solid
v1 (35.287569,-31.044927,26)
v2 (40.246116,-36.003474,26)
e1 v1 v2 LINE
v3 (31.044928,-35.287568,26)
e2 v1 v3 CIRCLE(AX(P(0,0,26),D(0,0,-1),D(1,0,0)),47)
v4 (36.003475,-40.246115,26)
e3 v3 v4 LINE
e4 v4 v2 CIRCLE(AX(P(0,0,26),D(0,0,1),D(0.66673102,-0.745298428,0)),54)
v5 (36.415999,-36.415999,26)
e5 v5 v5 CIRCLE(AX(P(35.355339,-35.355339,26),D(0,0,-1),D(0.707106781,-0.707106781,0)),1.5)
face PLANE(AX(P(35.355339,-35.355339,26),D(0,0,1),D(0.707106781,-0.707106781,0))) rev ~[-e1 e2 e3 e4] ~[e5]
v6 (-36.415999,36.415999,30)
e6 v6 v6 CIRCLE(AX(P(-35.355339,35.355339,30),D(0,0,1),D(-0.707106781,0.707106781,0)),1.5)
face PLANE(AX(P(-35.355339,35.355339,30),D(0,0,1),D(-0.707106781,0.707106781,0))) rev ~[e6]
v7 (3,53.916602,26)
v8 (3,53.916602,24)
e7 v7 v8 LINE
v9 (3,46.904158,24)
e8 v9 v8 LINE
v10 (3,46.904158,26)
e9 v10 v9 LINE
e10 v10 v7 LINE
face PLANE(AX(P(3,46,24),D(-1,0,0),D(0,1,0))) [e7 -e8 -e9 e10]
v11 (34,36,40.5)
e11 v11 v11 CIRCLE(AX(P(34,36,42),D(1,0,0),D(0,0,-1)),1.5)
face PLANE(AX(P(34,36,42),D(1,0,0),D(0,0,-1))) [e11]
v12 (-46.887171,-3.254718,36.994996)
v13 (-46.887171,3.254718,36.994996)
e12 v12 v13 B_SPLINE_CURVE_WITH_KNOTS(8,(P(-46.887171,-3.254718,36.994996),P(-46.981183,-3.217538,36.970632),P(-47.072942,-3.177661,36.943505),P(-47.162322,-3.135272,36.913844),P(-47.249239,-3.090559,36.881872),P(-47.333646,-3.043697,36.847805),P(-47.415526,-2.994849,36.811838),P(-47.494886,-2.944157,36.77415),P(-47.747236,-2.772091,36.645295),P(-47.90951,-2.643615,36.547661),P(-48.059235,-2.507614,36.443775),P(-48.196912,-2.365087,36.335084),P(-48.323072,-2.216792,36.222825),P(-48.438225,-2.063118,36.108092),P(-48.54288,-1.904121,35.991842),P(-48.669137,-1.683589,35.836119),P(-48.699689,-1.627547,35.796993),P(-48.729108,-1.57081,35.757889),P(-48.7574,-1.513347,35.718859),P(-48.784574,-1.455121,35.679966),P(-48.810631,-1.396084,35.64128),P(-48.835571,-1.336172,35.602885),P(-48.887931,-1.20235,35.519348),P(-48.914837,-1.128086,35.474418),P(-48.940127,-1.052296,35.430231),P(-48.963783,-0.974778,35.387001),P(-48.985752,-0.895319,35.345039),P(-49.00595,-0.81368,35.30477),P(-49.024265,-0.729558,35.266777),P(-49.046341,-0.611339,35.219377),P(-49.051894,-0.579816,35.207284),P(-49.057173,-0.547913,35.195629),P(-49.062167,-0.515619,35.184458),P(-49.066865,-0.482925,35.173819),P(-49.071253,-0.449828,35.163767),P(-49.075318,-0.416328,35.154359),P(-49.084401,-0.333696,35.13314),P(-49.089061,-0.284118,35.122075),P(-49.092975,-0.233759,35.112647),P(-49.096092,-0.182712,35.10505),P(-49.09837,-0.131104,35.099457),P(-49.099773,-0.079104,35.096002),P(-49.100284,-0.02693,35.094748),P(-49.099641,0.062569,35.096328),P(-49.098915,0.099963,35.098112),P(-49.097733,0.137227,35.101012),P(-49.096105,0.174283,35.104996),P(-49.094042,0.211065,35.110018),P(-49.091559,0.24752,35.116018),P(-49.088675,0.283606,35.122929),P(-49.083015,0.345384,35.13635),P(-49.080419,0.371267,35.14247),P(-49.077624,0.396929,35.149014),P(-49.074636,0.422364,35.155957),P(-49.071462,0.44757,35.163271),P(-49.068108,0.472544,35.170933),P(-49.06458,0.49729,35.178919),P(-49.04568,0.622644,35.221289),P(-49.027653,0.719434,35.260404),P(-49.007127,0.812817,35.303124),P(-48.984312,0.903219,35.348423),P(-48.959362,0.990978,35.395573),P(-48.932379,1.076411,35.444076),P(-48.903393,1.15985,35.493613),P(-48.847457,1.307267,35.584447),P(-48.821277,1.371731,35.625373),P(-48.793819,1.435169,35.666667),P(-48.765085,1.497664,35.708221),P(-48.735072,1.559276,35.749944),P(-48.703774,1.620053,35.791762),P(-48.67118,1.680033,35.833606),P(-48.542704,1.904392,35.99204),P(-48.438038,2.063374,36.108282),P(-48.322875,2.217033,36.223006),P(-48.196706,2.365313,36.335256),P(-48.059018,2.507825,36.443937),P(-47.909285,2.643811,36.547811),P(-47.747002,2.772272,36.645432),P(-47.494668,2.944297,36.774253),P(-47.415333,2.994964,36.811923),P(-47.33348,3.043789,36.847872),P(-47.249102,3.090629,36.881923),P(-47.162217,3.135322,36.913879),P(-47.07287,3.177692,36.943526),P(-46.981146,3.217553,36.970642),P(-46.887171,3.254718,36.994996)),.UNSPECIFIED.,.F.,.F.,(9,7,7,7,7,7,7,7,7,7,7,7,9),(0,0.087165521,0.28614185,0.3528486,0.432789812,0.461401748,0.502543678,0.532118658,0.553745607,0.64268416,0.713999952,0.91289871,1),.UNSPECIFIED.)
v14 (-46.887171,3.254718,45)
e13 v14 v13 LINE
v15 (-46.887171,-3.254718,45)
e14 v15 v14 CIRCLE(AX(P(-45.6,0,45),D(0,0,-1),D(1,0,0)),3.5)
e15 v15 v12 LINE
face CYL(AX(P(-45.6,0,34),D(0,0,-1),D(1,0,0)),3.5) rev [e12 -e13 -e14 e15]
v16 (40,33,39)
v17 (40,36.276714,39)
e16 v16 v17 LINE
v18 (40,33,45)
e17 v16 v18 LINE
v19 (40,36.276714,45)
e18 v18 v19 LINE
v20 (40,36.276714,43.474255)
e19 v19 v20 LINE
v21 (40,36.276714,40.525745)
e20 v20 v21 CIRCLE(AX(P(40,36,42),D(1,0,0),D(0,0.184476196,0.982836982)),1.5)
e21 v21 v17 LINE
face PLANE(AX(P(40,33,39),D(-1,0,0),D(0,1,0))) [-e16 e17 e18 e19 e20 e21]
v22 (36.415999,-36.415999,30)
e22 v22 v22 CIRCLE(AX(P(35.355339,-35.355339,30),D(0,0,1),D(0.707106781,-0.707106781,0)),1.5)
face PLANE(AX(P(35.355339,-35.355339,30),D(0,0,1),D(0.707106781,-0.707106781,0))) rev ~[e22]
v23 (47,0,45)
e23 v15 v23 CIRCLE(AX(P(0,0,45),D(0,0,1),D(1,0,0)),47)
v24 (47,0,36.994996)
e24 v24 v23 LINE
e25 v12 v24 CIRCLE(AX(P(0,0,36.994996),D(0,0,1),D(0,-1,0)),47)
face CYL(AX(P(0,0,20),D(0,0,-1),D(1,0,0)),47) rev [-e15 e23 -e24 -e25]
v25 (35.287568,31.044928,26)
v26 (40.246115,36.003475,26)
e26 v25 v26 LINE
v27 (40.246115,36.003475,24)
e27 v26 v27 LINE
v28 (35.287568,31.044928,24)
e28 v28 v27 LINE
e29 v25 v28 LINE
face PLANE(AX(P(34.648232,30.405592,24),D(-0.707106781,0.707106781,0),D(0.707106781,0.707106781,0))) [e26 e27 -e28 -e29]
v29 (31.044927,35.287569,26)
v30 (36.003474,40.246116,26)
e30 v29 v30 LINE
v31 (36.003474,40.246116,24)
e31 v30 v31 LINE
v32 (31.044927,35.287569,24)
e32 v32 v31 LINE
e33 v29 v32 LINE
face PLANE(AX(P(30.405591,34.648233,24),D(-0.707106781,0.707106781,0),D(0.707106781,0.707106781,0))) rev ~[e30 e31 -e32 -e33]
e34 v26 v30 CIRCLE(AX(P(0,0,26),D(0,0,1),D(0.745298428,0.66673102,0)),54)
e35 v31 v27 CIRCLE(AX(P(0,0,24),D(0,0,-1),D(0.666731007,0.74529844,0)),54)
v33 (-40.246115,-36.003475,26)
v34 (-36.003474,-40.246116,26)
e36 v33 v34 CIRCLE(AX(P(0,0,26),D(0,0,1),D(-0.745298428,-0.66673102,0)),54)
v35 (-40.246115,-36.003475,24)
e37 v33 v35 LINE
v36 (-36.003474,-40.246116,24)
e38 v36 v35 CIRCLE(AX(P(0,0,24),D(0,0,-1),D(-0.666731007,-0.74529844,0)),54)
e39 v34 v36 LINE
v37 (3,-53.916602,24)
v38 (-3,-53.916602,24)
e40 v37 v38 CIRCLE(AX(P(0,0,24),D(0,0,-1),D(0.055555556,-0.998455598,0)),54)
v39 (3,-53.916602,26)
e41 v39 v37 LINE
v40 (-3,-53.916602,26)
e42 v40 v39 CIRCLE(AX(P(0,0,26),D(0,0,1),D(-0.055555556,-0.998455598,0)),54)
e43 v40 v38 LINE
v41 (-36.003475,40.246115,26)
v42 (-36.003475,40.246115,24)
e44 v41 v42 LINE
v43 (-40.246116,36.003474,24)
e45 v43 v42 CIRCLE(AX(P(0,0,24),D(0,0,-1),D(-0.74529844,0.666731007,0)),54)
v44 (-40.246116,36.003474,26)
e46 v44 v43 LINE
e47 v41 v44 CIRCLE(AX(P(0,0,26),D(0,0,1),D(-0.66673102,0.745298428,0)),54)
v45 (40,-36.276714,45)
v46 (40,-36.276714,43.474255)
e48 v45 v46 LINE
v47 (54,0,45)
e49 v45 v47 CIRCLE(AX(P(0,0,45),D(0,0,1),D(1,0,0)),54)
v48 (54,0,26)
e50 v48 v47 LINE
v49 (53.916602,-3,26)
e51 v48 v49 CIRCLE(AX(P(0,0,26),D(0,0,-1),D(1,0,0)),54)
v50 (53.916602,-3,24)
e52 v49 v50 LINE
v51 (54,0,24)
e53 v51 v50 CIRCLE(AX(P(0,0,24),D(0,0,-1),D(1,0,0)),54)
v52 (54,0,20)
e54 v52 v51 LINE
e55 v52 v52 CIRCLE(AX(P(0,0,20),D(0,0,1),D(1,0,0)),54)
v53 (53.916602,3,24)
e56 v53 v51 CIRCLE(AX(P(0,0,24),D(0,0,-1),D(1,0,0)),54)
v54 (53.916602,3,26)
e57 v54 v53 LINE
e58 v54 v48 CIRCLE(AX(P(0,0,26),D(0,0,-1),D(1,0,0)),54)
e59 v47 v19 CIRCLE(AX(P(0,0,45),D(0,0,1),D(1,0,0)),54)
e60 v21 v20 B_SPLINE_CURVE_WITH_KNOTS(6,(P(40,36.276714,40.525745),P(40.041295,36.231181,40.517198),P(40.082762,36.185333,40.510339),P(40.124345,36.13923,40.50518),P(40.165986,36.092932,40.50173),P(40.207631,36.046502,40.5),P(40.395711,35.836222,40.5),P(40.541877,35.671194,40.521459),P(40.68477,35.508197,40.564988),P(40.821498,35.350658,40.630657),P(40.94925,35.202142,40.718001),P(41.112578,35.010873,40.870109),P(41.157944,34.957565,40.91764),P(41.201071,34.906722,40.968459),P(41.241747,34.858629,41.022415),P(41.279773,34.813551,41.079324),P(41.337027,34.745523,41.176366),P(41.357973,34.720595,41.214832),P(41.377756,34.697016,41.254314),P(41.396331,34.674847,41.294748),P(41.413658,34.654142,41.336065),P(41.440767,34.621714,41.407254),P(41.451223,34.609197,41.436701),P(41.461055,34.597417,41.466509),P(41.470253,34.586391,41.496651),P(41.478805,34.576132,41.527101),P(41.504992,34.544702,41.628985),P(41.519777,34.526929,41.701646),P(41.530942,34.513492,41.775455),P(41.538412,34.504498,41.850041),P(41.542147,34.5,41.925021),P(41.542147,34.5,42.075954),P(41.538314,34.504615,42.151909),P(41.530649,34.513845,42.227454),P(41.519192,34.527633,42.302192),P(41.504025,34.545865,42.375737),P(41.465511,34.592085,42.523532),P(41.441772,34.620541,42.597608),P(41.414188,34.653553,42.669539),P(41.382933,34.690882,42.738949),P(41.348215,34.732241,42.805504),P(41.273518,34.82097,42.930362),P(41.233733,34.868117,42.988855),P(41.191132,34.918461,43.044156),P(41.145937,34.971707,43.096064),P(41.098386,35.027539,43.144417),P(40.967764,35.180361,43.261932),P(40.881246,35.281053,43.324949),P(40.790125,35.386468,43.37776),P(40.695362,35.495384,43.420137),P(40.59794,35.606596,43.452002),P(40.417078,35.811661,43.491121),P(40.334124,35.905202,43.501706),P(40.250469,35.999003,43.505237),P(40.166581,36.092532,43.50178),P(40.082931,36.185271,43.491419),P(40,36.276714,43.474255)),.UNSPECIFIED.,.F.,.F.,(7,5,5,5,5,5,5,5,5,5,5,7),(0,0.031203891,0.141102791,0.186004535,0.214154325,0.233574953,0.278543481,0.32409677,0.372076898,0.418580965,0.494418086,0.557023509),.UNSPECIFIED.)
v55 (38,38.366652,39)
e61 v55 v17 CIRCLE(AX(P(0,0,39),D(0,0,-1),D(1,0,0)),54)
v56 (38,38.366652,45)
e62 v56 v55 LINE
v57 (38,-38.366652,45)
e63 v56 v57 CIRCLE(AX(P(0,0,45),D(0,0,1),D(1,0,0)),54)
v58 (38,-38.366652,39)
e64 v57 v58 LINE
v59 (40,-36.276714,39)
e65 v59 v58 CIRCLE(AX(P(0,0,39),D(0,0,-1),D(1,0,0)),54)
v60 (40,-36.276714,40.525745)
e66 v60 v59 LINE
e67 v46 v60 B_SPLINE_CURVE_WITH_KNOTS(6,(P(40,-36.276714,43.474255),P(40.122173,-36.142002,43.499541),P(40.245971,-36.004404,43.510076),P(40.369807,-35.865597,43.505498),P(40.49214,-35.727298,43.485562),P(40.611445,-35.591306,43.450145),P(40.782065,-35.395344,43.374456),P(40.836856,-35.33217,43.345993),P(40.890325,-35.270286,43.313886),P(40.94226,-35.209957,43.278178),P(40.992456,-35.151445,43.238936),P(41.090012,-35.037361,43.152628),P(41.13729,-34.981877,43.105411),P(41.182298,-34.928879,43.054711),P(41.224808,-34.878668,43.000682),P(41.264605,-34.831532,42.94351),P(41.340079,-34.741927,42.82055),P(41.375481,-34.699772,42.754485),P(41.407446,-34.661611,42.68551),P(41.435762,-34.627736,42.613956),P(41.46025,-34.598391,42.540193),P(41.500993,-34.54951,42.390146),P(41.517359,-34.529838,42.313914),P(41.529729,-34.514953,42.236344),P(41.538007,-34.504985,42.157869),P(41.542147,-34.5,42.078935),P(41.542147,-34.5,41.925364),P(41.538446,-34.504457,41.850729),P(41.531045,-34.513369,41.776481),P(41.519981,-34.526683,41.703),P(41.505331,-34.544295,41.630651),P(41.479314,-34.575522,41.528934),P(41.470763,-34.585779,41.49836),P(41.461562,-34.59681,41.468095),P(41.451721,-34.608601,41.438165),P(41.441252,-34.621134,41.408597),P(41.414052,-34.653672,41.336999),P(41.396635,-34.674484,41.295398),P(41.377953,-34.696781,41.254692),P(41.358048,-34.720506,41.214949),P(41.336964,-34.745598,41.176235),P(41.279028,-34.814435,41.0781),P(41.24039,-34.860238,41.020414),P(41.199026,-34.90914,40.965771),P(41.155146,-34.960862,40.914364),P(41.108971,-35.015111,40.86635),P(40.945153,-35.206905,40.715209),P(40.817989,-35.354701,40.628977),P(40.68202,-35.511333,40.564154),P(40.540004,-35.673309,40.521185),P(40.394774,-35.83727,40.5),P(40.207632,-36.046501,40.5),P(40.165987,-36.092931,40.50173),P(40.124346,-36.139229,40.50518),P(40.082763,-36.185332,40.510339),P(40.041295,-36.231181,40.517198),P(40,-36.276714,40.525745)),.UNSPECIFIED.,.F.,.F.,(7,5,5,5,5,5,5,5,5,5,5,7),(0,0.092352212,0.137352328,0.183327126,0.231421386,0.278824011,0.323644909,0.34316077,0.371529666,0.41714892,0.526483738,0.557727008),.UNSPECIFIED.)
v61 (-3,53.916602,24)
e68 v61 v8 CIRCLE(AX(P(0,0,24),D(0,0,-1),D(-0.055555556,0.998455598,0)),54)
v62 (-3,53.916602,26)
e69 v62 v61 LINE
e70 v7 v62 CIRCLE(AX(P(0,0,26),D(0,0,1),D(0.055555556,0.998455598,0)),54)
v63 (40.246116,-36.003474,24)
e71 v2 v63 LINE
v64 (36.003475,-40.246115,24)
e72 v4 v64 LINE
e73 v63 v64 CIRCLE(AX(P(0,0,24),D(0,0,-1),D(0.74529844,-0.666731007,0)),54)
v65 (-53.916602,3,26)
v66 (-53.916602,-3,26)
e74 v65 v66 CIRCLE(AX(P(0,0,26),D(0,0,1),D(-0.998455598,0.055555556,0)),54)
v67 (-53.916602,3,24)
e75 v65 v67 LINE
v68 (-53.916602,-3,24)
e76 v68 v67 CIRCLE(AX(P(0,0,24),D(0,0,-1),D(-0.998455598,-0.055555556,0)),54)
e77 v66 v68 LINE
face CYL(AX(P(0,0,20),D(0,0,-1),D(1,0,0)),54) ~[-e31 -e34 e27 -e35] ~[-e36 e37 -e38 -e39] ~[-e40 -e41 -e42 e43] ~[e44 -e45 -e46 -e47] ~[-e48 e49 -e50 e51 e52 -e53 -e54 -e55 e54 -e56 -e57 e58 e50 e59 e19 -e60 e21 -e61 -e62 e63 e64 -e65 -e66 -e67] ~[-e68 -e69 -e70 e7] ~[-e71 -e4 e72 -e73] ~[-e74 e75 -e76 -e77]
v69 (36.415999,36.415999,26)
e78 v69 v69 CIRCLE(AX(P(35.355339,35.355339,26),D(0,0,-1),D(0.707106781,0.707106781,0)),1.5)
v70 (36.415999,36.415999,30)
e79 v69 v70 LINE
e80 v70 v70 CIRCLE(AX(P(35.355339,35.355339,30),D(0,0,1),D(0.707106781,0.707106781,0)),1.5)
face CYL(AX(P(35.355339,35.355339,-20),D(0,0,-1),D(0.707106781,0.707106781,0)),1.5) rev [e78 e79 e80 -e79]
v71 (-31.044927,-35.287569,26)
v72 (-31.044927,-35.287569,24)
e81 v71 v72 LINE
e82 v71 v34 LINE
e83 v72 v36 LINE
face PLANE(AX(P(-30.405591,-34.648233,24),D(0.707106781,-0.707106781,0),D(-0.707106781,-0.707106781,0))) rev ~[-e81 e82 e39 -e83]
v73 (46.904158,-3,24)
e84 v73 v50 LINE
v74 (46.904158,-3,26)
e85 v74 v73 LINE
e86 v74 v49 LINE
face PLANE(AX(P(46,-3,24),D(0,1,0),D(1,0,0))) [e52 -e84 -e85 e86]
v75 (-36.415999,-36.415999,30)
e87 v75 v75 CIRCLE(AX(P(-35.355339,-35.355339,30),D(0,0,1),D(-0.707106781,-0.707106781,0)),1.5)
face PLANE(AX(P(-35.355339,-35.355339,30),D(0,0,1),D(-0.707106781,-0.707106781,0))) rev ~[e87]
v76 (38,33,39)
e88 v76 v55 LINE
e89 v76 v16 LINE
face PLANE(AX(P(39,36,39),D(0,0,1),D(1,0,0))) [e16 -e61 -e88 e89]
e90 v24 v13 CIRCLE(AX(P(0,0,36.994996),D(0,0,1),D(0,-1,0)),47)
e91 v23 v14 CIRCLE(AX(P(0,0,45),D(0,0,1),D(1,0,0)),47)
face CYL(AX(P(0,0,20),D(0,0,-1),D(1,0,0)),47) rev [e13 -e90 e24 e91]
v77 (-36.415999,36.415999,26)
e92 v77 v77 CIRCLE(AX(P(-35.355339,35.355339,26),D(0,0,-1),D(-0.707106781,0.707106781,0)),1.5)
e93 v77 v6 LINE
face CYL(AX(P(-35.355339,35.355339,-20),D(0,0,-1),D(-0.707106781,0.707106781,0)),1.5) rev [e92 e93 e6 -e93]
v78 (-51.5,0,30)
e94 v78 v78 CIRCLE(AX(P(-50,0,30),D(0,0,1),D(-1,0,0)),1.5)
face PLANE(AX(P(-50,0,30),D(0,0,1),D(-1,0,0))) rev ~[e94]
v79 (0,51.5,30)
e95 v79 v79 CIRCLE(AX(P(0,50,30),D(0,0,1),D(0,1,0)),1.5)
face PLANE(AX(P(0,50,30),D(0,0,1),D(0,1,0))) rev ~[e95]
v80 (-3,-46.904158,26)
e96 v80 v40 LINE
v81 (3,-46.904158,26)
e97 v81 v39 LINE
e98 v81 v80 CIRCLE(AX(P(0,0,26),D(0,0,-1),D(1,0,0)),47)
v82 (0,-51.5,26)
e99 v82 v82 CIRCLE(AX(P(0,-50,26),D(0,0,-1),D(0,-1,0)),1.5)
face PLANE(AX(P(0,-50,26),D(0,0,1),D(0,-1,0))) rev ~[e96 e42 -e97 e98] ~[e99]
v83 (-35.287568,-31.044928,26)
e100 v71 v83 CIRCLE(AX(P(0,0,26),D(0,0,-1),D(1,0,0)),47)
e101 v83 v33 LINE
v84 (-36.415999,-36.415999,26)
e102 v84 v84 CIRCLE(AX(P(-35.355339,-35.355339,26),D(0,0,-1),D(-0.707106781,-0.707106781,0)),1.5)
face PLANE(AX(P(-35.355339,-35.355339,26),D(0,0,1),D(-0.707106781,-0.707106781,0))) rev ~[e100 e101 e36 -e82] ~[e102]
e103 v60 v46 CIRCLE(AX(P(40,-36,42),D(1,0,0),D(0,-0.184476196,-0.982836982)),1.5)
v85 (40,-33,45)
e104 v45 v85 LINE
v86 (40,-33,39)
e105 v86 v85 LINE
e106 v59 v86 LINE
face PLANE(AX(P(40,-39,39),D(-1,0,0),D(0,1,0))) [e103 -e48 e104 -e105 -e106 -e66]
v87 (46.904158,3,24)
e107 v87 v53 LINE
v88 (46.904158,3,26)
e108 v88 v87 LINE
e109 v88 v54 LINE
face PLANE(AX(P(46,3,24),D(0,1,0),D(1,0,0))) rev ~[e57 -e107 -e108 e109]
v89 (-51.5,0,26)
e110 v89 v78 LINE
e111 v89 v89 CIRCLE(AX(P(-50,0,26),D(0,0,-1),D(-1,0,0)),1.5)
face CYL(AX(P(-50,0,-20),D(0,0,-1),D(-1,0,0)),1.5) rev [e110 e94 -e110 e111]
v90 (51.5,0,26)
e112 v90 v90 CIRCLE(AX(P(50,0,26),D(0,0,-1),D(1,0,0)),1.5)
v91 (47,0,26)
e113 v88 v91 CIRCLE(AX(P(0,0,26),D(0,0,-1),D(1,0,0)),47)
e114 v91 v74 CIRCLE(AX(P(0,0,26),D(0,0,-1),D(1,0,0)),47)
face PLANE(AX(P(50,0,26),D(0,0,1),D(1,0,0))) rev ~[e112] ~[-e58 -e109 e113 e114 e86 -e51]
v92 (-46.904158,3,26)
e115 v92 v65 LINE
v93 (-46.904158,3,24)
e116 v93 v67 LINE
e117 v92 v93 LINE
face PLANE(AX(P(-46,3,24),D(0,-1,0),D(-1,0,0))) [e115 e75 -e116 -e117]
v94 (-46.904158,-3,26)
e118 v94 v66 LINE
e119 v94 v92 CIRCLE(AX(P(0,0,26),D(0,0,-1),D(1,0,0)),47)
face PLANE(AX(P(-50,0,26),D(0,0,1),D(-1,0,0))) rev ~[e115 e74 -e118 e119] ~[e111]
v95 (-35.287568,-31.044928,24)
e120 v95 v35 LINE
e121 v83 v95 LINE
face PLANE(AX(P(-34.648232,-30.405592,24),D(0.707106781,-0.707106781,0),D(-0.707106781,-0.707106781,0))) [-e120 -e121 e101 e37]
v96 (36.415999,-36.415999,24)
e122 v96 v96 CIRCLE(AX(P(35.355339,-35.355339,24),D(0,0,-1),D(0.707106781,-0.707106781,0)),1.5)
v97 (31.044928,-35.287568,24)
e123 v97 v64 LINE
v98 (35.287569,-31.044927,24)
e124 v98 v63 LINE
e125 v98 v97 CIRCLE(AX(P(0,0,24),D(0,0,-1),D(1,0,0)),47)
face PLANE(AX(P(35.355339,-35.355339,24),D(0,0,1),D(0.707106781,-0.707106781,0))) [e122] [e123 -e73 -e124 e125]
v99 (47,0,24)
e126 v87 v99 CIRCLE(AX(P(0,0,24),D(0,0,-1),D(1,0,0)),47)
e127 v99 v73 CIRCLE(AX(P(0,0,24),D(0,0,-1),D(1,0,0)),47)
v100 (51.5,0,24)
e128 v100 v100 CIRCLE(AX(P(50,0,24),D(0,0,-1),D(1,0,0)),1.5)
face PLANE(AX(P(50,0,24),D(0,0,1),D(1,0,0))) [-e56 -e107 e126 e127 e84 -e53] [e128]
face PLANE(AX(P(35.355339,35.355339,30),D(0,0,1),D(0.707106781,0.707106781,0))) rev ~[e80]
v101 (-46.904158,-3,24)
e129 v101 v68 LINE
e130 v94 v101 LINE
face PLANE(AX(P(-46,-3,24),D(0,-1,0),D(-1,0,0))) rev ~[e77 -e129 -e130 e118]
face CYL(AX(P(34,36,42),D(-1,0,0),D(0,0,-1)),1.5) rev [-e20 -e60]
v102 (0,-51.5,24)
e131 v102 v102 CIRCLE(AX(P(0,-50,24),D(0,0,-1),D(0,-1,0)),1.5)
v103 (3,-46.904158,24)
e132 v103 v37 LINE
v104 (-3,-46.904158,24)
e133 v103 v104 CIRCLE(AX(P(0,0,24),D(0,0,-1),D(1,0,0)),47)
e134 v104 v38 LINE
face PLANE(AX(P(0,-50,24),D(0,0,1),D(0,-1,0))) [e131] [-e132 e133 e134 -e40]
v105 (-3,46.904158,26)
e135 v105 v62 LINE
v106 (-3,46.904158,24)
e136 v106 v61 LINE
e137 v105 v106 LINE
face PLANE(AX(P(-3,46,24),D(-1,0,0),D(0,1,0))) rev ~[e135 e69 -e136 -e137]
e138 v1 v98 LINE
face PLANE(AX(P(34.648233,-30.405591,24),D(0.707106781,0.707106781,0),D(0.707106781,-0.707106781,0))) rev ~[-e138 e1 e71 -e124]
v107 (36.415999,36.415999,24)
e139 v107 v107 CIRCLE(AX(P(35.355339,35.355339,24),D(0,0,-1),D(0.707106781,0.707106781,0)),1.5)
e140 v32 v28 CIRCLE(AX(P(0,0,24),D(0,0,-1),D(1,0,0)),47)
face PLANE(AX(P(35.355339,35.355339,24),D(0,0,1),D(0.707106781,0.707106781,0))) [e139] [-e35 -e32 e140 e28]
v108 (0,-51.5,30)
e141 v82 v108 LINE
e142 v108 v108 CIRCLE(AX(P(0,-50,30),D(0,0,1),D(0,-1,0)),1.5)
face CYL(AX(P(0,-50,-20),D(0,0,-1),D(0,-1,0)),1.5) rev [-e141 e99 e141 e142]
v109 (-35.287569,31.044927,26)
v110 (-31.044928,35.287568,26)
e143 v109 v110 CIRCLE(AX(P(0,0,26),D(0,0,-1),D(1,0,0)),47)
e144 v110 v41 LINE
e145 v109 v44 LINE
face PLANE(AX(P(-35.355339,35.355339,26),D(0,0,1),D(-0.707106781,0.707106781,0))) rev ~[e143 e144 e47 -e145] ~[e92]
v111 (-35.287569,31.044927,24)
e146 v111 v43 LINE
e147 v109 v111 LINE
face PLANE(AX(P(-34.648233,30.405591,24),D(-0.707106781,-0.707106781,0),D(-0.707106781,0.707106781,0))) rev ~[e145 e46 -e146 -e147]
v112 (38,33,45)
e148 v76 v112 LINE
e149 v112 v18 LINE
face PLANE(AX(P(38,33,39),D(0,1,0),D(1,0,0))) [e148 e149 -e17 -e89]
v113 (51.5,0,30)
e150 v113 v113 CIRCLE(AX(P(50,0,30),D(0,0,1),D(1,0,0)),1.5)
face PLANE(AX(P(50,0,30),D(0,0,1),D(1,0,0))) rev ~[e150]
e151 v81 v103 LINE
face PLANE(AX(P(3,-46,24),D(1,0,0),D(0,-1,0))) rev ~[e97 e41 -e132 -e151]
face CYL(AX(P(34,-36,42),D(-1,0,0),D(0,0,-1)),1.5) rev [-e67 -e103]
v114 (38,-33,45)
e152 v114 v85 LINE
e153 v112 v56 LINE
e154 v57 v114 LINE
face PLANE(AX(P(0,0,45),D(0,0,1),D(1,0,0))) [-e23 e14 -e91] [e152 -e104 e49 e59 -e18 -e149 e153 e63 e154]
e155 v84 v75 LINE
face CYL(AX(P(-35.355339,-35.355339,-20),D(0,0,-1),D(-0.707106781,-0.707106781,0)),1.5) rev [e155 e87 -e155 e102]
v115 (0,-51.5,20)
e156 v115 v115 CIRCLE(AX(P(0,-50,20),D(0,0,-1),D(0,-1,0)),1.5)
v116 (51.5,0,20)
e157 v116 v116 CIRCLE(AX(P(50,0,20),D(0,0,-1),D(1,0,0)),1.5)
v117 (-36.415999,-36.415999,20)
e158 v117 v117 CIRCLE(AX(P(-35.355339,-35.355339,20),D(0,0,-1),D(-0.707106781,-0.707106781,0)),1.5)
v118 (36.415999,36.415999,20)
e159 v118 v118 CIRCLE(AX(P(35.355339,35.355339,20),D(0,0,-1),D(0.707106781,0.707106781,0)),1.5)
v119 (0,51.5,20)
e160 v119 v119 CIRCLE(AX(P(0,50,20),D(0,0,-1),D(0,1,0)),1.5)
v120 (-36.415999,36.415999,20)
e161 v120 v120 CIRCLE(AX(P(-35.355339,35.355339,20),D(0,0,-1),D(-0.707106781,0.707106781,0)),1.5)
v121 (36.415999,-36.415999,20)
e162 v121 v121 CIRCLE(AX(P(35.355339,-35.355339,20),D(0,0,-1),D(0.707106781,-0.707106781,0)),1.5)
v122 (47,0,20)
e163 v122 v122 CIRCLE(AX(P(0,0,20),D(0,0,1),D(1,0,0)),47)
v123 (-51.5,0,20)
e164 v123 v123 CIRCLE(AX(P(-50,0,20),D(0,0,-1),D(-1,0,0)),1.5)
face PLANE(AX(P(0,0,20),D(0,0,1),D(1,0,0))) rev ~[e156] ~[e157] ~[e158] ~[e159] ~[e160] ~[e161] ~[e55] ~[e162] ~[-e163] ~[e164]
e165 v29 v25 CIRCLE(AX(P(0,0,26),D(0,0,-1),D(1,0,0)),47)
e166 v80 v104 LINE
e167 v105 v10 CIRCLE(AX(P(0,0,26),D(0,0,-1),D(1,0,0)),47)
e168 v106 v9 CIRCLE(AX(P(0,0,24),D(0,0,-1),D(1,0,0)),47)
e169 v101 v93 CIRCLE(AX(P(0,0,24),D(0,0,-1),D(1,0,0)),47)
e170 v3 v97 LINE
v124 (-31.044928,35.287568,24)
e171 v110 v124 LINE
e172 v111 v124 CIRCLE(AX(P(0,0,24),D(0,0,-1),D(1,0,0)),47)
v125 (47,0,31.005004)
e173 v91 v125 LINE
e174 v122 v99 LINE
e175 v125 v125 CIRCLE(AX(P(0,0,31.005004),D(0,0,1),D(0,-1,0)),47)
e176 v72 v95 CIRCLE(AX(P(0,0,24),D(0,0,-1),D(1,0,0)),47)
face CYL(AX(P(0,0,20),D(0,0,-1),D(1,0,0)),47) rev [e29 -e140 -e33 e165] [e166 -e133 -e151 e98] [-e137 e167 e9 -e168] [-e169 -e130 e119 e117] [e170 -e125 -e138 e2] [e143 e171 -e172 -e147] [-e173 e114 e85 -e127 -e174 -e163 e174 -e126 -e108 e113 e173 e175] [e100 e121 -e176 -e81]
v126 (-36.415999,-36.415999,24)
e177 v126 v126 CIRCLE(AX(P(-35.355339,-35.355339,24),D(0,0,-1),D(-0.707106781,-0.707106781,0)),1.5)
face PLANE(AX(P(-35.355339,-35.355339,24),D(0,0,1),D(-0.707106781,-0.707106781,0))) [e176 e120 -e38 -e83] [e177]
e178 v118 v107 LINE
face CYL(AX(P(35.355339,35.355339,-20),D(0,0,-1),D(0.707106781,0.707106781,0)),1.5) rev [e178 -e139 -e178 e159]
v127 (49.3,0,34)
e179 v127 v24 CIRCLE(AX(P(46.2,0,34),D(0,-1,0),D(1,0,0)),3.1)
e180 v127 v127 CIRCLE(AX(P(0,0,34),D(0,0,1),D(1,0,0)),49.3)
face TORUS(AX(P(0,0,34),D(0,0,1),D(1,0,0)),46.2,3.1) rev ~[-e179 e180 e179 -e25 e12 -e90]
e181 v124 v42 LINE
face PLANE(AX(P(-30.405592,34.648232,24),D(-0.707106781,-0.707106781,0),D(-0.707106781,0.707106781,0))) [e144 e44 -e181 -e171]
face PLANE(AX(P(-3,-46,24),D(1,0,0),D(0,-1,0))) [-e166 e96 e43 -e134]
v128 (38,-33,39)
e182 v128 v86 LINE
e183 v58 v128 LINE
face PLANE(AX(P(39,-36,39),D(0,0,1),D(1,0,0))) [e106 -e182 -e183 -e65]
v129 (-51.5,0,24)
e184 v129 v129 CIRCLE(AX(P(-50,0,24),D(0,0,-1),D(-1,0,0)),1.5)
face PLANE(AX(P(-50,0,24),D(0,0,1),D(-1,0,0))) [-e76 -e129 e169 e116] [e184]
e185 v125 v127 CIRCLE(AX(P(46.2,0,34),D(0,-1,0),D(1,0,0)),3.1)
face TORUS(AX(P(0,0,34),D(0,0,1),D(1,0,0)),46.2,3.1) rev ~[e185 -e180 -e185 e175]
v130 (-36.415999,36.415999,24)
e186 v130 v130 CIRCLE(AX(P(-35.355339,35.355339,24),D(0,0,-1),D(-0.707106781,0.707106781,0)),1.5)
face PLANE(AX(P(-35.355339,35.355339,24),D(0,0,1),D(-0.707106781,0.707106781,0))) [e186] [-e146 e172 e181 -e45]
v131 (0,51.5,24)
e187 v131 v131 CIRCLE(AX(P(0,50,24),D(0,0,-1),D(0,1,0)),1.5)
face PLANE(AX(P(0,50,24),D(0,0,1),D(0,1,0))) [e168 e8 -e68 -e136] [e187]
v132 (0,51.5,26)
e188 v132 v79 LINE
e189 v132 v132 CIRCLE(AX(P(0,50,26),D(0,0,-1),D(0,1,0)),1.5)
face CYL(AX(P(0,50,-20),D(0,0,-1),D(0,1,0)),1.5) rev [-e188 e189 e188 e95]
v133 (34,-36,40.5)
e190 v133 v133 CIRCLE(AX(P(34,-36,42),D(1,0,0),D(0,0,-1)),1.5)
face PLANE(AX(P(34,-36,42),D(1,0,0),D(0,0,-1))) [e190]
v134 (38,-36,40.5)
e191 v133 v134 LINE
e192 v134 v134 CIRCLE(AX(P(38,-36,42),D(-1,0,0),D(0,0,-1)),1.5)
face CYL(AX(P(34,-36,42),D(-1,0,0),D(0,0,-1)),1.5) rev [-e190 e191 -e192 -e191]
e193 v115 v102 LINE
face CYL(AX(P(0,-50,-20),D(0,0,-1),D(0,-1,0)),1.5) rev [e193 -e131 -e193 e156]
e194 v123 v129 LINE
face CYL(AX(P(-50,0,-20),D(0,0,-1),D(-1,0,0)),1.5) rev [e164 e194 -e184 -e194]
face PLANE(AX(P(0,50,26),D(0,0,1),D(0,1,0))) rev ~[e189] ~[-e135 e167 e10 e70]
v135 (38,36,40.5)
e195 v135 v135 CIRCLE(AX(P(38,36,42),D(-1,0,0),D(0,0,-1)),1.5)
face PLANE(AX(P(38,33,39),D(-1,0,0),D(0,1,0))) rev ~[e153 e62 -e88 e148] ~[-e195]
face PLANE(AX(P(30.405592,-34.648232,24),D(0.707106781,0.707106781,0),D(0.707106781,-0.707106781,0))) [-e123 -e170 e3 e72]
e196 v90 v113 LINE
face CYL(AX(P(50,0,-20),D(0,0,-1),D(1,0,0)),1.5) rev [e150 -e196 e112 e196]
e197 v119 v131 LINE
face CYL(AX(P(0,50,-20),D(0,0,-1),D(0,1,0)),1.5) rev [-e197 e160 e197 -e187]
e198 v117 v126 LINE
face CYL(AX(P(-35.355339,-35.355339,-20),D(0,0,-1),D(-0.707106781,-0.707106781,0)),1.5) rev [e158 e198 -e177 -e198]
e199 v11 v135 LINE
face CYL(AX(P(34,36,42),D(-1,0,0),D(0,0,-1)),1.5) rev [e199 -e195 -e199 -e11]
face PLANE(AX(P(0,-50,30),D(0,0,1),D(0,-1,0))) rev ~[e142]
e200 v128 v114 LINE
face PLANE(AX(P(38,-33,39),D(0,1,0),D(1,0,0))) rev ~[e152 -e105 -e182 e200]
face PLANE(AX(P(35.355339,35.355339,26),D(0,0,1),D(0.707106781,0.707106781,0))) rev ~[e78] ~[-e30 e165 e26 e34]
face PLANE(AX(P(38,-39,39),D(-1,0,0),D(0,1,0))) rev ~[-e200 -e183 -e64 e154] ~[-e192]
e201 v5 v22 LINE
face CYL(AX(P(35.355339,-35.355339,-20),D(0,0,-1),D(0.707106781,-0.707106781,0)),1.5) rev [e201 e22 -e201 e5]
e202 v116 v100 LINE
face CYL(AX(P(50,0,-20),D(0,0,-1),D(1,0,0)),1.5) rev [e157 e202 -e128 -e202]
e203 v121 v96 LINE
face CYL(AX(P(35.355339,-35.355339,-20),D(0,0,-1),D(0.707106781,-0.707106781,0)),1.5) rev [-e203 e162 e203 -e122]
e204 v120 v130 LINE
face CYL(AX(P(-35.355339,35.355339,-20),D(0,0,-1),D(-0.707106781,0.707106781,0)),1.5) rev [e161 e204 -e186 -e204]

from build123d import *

# Parameters (mm, degrees)
BOX174_W                    = 2
BOX174_H                    = 6
BOX174_DEPTH                = 6
BOX175_W                    = 2
BOX175_H                    = 6
BOX175_DEPTH                = 6
BOX176_W                    = 2
BOX176_H                    = 6
BOX176_DEPTH                = 6
BOX173_W                    = 2
BOX173_H                    = 6
BOX173_DEPTH                = 6
CYLINDER397_R               = 1.5
CYLINDER397_DEPTH           = 100
CYLINDER398_R               = 1.5
CYLINDER398_DEPTH           = 100
CYLINDER395_R               = 1.5
CYLINDER395_DEPTH           = 100
CYLINDER396_R               = 1.5
CYLINDER396_DEPTH           = 100
CYLINDER375_R               = 1.5
CYLINDER375_DEPTH           = 50
CYLINDER375_PLACEMENT_ANGLE = 45
CYLINDER376_R               = 1.5
CYLINDER376_DEPTH           = 50
CYLINDER377_R               = 1.5
CYLINDER377_DEPTH           = 50
CYLINDER377_PLACEMENT_ANGLE = 135
CYLINDER378_R               = 1.5
CYLINDER378_DEPTH           = 50
CYLINDER379_R               = 1.5
CYLINDER379_DEPTH           = 50
CYLINDER379_PLACEMENT_ANGLE = 225
CYLINDER380_R               = 1.5
CYLINDER380_DEPTH           = 50
CYLINDER381_R               = 1.5
CYLINDER381_DEPTH           = 50
CYLINDER381_PLACEMENT_ANGLE = 45
CYLINDER374_R               = 1.5
CYLINDER374_DEPTH           = 50
BOX158_W                    = 8
BOX158_H                    = 6
BOX158_DEPTH                = 2
BOX158_PLACEMENT_ANGLE      = 45
BOX159_W                    = 8
BOX159_H                    = 6
BOX159_DEPTH                = 2
BOX160_W                    = 8
BOX160_H                    = 6
BOX160_DEPTH                = 2
BOX160_PLACEMENT_ANGLE      = 135
BOX161_W                    = 8
BOX161_H                    = 6
BOX161_DEPTH                = 2
BOX162_W                    = 8
BOX162_H                    = 6
BOX162_DEPTH                = 2
BOX162_PLACEMENT_ANGLE      = 225
BOX163_W                    = 8
BOX163_H                    = 6
BOX163_DEPTH                = 2
BOX164_W                    = 8
BOX164_H                    = 6
BOX164_DEPTH                = 2
BOX164_PLACEMENT_ANGLE      = 45
BOX157_W                    = 8
BOX157_H                    = 6
BOX157_DEPTH                = 2
CYLINDER006_R               = 3.5
CYLINDER006_DEPTH           = 16
TORUS004_R                  = 3.1
TUBE002_R                   = 54
TUBE002_R_2                 = 47
TUBE002_DEPTH               = 25


with BuildPart() as krychle174:
    # Box174 → Box174 (new body)
    with BuildSketch(Plane(origin=(32, -54, 24), x_dir=(1, 0, 0), z_dir=(0, 0, 1))):
        with Locations((1, 3)):
            Rectangle(BOX174_W, BOX174_H)
    extrude(amount=BOX174_DEPTH)


with BuildPart() as krychle175:
    # Box175 → Box175 (new body)
    with BuildSketch(Plane(origin=(38, 33, 39), x_dir=(1, 0, 0), z_dir=(0, 0, 1))):
        with Locations((1, 3)):
            Rectangle(BOX175_W, BOX175_H)
    extrude(amount=BOX175_DEPTH)


with BuildPart() as krychle176:
    # Box176 → Box176 (new body)
    with BuildSketch(Plane(origin=(38, -39, 39), x_dir=(1, 0, 0), z_dir=(0, 0, 1))):
        with Locations((1, 3)):
            Rectangle(BOX176_W, BOX176_H)
    extrude(amount=BOX176_DEPTH)


with BuildPart() as compound302:
    # Box173 → Box173 (new body)
    with BuildSketch(Plane(origin=(32, 48, 24), x_dir=(1, 0, 0), z_dir=(0, 0, 1))):
        with Locations((1, 3)):
            Rectangle(BOX173_W, BOX173_H)
    extrude(amount=BOX173_DEPTH)

    # Compound302: union Krychle174, Krychle175, Krychle176
    add(krychle174.part)
    add(krychle175.part)
    add(krychle176.part)


with BuildPart() as v_lec397:
    # Cylinder397 → Cylinder397 (new body)
    with BuildSketch(Plane(origin=(24, -51, 27), x_dir=(0, 0, -1), z_dir=(1, 0, 0))):
        Circle(CYLINDER397_R)
    extrude(amount=CYLINDER397_DEPTH)


with BuildPart() as v_lec398:
    # Cylinder398 → Cylinder398 (new body)
    with BuildSketch(Plane(origin=(34, 36, 42), x_dir=(0, 0, -1), z_dir=(1, 0, 0))):
        Circle(CYLINDER398_R)
    extrude(amount=CYLINDER398_DEPTH)


with BuildPart() as v_lec395:
    # Cylinder395 → Cylinder395 (new body)
    with BuildSketch(Plane(origin=(34, -36, 42), x_dir=(0, 0, -1), z_dir=(1, 0, 0))):
        Circle(CYLINDER395_R)
    extrude(amount=CYLINDER395_DEPTH)


with BuildPart() as compound303:
    # Cylinder396 → Cylinder396 (new body)
    with BuildSketch(Plane(origin=(24, 51, 27), x_dir=(0, 0, -1), z_dir=(1, 0, 0))):
        Circle(CYLINDER396_R)
    extrude(amount=CYLINDER396_DEPTH)

    # Compound303: union Válec397, Válec398, Válec395
    add(v_lec397.part)
    add(v_lec398.part)
    add(v_lec395.part)


with BuildPart() as v_lec375:
    # Cylinder375 → Cylinder375 (new body)
    with BuildSketch(Plane.XY):
        Circle(CYLINDER375_R)
    extrude(amount=CYLINDER375_DEPTH)


with BuildPart() as v_lec375_1:
    # Cylinder375 placement: moved
    add(v_lec375.part.moved(Location((35.355339, 35.355339, -15))).rotate(Axis((35.355339, 35.355339, -15), (0, 0, 1)), CYLINDER375_PLACEMENT_ANGLE))


with BuildPart() as v_lec376:
    # Cylinder376 → Cylinder376 (new body)
    with BuildSketch(Plane(origin=(0, 50, -15), x_dir=(0, 1, 0), z_dir=(0, 0, 1))):
        Circle(CYLINDER376_R)
    extrude(amount=CYLINDER376_DEPTH)


with BuildPart() as v_lec377:
    # Cylinder377 → Cylinder377 (new body)
    with BuildSketch(Plane.XY):
        Circle(CYLINDER377_R)
    extrude(amount=CYLINDER377_DEPTH)


with BuildPart() as v_lec377_1:
    # Cylinder377 placement: moved
    add(v_lec377.part.moved(Location((-35.355339, 35.355339, -15))).rotate(Axis((-35.355339, 35.355339, -15), (0, 0, 1)), CYLINDER377_PLACEMENT_ANGLE))


with BuildPart() as v_lec378:
    # Cylinder378 → Cylinder378 (new body)
    with BuildSketch(Plane(origin=(-50, 0, -15), x_dir=(-1, 0, 0), z_dir=(0, 0, 1))):
        Circle(CYLINDER378_R)
    extrude(amount=CYLINDER378_DEPTH)


with BuildPart() as v_lec379:
    # Cylinder379 → Cylinder379 (new body)
    with BuildSketch(Plane.XY):
        Circle(CYLINDER379_R)
    extrude(amount=CYLINDER379_DEPTH)


with BuildPart() as v_lec379_1:
    # Cylinder379 placement: moved
    add(v_lec379.part.moved(Location((-35.355339, -35.355339, -15))).rotate(Axis((-35.355339, -35.355339, -15), (0, 0, 1)), CYLINDER379_PLACEMENT_ANGLE))


with BuildPart() as v_lec380:
    # Cylinder380 → Cylinder380 (new body)
    with BuildSketch(Plane(origin=(0, -50, -15), x_dir=(0, -1, 0), z_dir=(0, 0, 1))):
        Circle(CYLINDER380_R)
    extrude(amount=CYLINDER380_DEPTH)


with BuildPart() as v_lec381:
    # Cylinder381 → Cylinder381 (new body)
    with BuildSketch(Plane.XY):
        Circle(CYLINDER381_R)
    extrude(amount=CYLINDER381_DEPTH)


with BuildPart() as v_lec381_1:
    # Cylinder381 placement: moved
    add(v_lec381.part.moved(Location((35.355339, -35.355339, -15))).rotate(Axis((35.355339, -35.355339, -15), (0, 0, -1)), CYLINDER381_PLACEMENT_ANGLE))


with BuildPart() as compound298:
    # Cylinder374 → Cylinder374 (new body)
    with BuildSketch(Plane(origin=(50, 0, -15), x_dir=(1, 0, 0), z_dir=(0, 0, 1))):
        Circle(CYLINDER374_R)
    extrude(amount=CYLINDER374_DEPTH)

    # Compound298: union Válec375, Válec376, Válec377, Válec378, Válec379, Válec380, Válec381
    add(v_lec375_1.part)
    add(v_lec376.part)
    add(v_lec377_1.part)
    add(v_lec378.part)
    add(v_lec379_1.part)
    add(v_lec380.part)
    add(v_lec381_1.part)


with BuildPart() as compound298_1:
    # Compound298 placement: moved
    add(compound298.part.moved(Location((0, 0, -5))))


with BuildPart() as krychle158:
    # Box158 → Box158 (new body)
    with BuildSketch(Plane.XY):
        with Locations((4, 3)):
            Rectangle(BOX158_W, BOX158_H)
    extrude(amount=BOX158_DEPTH)


with BuildPart() as krychle158_1:
    # Box158 placement: moved
    add(krychle158.part.moved(Location((34.648232, 30.405592, 23))).rotate(Axis((34.648232, 30.405592, 23), (0, 0, 1)), BOX158_PLACEMENT_ANGLE))


with BuildPart() as krychle159:
    # Box159 → Box159 (new body)
    with BuildSketch(Plane(origin=(3, 46, 23), x_dir=(0, 1, 0), z_dir=(0, 0, 1))):
        with Locations((4, 3)):
            Rectangle(BOX159_W, BOX159_H)
    extrude(amount=BOX159_DEPTH)


with BuildPart() as krychle160:
    # Box160 → Box160 (new body)
    with BuildSketch(Plane.XY):
        with Locations((4, 3)):
            Rectangle(BOX160_W, BOX160_H)
    extrude(amount=BOX160_DEPTH)


with BuildPart() as krychle160_1:
    # Box160 placement: moved
    add(krychle160.part.moved(Location((-30.405592, 34.648232, 23))).rotate(Axis((-30.405592, 34.648232, 23), (0, 0, 1)), BOX160_PLACEMENT_ANGLE))


with BuildPart() as krychle161:
    # Box161 → Box161 (new body)
    with BuildSketch(Plane(origin=(-46, 3, 23), x_dir=(-1, 0, 0), z_dir=(0, 0, 1))):
        with Locations((4, 3)):
            Rectangle(BOX161_W, BOX161_H)
    extrude(amount=BOX161_DEPTH)


with BuildPart() as krychle162:
    # Box162 → Box162 (new body)
    with BuildSketch(Plane.XY):
        with Locations((4, 3)):
            Rectangle(BOX162_W, BOX162_H)
    extrude(amount=BOX162_DEPTH)


with BuildPart() as krychle162_1:
    # Box162 placement: moved
    add(krychle162.part.moved(Location((-34.648232, -30.405592, 23))).rotate(Axis((-34.648232, -30.405592, 23), (0, 0, 1)), BOX162_PLACEMENT_ANGLE))


with BuildPart() as krychle163:
    # Box163 → Box163 (new body)
    with BuildSketch(Plane(origin=(-3, -46, 23), x_dir=(0, -1, 0), z_dir=(0, 0, 1))):
        with Locations((4, 3)):
            Rectangle(BOX163_W, BOX163_H)
    extrude(amount=BOX163_DEPTH)


with BuildPart() as krychle164:
    # Box164 → Box164 (new body)
    with BuildSketch(Plane.XY):
        with Locations((4, 3)):
            Rectangle(BOX164_W, BOX164_H)
    extrude(amount=BOX164_DEPTH)


with BuildPart() as krychle164_1:
    # Box164 placement: moved
    add(krychle164.part.moved(Location((30.405592, -34.648232, 23))).rotate(Axis((30.405592, -34.648232, 23), (0, 0, -1)), BOX164_PLACEMENT_ANGLE))


with BuildPart() as compound297:
    # Box157 → Box157 (new body)
    with BuildSketch(Plane(origin=(46, -3, 23), x_dir=(1, 0, 0), z_dir=(0, 0, 1))):
        with Locations((4, 3)):
            Rectangle(BOX157_W, BOX157_H)
    extrude(amount=BOX157_DEPTH)

    # Compound297: union Krychle158, Krychle159, Krychle160, Krychle161, Krychle162, Krychle163, Krychle164
    add(krychle158_1.part)
    add(krychle159.part)
    add(krychle160_1.part)
    add(krychle161.part)
    add(krychle162_1.part)
    add(krychle163.part)
    add(krychle164_1.part)


with BuildPart() as compound297_1:
    # Compound297 placement: moved
    add(compound297.part.moved(Location((0, 0, 1))))


with BuildPart() as v_lec006:
    # Cylinder006 → Cylinder006 (new body)
    with BuildSketch(Plane(origin=(-45.6, 0, 34), x_dir=(1, 0, 0), z_dir=(0, 0, 1))):
        Circle(CYLINDER006_R)
    extrude(amount=CYLINDER006_DEPTH)


with BuildPart() as anuloid004:
    # Torus004 → Torus004 (revolve)
    with BuildSketch(Plane(origin=(0, 0, 34), x_dir=(1, 0, 0), z_dir=(0, -1, 0))):
        with Locations((46.2, 0)):
            Circle(TORUS004_R)
    revolve(axis=Axis((0, 0, 34), (0, 0, 1)))


with BuildPart() as cut160:
    # Tube002 → Tube002 (new body)
    with BuildSketch(Plane.XY.offset(20)):
        Circle(TUBE002_R)
        Circle(TUBE002_R_2, mode=Mode.SUBTRACT)
    extrude(amount=TUBE002_DEPTH)

    # Cut009: cut Anuloid004
    add(anuloid004.part, mode=Mode.SUBTRACT)

    # Cut010: cut Válec006
    add(v_lec006.part, mode=Mode.SUBTRACT)

    # Cut151: cut Compound297
    add(compound297_1.part, mode=Mode.SUBTRACT)

    # Cut152: cut Compound298
    add(compound298_1.part, mode=Mode.SUBTRACT)

    # Cut159: cut Compound303
    add(compound303.part, mode=Mode.SUBTRACT)

    # Cut160: cut Compound302
    add(compound302.part, mode=Mode.SUBTRACT)


solid = cut160.part
